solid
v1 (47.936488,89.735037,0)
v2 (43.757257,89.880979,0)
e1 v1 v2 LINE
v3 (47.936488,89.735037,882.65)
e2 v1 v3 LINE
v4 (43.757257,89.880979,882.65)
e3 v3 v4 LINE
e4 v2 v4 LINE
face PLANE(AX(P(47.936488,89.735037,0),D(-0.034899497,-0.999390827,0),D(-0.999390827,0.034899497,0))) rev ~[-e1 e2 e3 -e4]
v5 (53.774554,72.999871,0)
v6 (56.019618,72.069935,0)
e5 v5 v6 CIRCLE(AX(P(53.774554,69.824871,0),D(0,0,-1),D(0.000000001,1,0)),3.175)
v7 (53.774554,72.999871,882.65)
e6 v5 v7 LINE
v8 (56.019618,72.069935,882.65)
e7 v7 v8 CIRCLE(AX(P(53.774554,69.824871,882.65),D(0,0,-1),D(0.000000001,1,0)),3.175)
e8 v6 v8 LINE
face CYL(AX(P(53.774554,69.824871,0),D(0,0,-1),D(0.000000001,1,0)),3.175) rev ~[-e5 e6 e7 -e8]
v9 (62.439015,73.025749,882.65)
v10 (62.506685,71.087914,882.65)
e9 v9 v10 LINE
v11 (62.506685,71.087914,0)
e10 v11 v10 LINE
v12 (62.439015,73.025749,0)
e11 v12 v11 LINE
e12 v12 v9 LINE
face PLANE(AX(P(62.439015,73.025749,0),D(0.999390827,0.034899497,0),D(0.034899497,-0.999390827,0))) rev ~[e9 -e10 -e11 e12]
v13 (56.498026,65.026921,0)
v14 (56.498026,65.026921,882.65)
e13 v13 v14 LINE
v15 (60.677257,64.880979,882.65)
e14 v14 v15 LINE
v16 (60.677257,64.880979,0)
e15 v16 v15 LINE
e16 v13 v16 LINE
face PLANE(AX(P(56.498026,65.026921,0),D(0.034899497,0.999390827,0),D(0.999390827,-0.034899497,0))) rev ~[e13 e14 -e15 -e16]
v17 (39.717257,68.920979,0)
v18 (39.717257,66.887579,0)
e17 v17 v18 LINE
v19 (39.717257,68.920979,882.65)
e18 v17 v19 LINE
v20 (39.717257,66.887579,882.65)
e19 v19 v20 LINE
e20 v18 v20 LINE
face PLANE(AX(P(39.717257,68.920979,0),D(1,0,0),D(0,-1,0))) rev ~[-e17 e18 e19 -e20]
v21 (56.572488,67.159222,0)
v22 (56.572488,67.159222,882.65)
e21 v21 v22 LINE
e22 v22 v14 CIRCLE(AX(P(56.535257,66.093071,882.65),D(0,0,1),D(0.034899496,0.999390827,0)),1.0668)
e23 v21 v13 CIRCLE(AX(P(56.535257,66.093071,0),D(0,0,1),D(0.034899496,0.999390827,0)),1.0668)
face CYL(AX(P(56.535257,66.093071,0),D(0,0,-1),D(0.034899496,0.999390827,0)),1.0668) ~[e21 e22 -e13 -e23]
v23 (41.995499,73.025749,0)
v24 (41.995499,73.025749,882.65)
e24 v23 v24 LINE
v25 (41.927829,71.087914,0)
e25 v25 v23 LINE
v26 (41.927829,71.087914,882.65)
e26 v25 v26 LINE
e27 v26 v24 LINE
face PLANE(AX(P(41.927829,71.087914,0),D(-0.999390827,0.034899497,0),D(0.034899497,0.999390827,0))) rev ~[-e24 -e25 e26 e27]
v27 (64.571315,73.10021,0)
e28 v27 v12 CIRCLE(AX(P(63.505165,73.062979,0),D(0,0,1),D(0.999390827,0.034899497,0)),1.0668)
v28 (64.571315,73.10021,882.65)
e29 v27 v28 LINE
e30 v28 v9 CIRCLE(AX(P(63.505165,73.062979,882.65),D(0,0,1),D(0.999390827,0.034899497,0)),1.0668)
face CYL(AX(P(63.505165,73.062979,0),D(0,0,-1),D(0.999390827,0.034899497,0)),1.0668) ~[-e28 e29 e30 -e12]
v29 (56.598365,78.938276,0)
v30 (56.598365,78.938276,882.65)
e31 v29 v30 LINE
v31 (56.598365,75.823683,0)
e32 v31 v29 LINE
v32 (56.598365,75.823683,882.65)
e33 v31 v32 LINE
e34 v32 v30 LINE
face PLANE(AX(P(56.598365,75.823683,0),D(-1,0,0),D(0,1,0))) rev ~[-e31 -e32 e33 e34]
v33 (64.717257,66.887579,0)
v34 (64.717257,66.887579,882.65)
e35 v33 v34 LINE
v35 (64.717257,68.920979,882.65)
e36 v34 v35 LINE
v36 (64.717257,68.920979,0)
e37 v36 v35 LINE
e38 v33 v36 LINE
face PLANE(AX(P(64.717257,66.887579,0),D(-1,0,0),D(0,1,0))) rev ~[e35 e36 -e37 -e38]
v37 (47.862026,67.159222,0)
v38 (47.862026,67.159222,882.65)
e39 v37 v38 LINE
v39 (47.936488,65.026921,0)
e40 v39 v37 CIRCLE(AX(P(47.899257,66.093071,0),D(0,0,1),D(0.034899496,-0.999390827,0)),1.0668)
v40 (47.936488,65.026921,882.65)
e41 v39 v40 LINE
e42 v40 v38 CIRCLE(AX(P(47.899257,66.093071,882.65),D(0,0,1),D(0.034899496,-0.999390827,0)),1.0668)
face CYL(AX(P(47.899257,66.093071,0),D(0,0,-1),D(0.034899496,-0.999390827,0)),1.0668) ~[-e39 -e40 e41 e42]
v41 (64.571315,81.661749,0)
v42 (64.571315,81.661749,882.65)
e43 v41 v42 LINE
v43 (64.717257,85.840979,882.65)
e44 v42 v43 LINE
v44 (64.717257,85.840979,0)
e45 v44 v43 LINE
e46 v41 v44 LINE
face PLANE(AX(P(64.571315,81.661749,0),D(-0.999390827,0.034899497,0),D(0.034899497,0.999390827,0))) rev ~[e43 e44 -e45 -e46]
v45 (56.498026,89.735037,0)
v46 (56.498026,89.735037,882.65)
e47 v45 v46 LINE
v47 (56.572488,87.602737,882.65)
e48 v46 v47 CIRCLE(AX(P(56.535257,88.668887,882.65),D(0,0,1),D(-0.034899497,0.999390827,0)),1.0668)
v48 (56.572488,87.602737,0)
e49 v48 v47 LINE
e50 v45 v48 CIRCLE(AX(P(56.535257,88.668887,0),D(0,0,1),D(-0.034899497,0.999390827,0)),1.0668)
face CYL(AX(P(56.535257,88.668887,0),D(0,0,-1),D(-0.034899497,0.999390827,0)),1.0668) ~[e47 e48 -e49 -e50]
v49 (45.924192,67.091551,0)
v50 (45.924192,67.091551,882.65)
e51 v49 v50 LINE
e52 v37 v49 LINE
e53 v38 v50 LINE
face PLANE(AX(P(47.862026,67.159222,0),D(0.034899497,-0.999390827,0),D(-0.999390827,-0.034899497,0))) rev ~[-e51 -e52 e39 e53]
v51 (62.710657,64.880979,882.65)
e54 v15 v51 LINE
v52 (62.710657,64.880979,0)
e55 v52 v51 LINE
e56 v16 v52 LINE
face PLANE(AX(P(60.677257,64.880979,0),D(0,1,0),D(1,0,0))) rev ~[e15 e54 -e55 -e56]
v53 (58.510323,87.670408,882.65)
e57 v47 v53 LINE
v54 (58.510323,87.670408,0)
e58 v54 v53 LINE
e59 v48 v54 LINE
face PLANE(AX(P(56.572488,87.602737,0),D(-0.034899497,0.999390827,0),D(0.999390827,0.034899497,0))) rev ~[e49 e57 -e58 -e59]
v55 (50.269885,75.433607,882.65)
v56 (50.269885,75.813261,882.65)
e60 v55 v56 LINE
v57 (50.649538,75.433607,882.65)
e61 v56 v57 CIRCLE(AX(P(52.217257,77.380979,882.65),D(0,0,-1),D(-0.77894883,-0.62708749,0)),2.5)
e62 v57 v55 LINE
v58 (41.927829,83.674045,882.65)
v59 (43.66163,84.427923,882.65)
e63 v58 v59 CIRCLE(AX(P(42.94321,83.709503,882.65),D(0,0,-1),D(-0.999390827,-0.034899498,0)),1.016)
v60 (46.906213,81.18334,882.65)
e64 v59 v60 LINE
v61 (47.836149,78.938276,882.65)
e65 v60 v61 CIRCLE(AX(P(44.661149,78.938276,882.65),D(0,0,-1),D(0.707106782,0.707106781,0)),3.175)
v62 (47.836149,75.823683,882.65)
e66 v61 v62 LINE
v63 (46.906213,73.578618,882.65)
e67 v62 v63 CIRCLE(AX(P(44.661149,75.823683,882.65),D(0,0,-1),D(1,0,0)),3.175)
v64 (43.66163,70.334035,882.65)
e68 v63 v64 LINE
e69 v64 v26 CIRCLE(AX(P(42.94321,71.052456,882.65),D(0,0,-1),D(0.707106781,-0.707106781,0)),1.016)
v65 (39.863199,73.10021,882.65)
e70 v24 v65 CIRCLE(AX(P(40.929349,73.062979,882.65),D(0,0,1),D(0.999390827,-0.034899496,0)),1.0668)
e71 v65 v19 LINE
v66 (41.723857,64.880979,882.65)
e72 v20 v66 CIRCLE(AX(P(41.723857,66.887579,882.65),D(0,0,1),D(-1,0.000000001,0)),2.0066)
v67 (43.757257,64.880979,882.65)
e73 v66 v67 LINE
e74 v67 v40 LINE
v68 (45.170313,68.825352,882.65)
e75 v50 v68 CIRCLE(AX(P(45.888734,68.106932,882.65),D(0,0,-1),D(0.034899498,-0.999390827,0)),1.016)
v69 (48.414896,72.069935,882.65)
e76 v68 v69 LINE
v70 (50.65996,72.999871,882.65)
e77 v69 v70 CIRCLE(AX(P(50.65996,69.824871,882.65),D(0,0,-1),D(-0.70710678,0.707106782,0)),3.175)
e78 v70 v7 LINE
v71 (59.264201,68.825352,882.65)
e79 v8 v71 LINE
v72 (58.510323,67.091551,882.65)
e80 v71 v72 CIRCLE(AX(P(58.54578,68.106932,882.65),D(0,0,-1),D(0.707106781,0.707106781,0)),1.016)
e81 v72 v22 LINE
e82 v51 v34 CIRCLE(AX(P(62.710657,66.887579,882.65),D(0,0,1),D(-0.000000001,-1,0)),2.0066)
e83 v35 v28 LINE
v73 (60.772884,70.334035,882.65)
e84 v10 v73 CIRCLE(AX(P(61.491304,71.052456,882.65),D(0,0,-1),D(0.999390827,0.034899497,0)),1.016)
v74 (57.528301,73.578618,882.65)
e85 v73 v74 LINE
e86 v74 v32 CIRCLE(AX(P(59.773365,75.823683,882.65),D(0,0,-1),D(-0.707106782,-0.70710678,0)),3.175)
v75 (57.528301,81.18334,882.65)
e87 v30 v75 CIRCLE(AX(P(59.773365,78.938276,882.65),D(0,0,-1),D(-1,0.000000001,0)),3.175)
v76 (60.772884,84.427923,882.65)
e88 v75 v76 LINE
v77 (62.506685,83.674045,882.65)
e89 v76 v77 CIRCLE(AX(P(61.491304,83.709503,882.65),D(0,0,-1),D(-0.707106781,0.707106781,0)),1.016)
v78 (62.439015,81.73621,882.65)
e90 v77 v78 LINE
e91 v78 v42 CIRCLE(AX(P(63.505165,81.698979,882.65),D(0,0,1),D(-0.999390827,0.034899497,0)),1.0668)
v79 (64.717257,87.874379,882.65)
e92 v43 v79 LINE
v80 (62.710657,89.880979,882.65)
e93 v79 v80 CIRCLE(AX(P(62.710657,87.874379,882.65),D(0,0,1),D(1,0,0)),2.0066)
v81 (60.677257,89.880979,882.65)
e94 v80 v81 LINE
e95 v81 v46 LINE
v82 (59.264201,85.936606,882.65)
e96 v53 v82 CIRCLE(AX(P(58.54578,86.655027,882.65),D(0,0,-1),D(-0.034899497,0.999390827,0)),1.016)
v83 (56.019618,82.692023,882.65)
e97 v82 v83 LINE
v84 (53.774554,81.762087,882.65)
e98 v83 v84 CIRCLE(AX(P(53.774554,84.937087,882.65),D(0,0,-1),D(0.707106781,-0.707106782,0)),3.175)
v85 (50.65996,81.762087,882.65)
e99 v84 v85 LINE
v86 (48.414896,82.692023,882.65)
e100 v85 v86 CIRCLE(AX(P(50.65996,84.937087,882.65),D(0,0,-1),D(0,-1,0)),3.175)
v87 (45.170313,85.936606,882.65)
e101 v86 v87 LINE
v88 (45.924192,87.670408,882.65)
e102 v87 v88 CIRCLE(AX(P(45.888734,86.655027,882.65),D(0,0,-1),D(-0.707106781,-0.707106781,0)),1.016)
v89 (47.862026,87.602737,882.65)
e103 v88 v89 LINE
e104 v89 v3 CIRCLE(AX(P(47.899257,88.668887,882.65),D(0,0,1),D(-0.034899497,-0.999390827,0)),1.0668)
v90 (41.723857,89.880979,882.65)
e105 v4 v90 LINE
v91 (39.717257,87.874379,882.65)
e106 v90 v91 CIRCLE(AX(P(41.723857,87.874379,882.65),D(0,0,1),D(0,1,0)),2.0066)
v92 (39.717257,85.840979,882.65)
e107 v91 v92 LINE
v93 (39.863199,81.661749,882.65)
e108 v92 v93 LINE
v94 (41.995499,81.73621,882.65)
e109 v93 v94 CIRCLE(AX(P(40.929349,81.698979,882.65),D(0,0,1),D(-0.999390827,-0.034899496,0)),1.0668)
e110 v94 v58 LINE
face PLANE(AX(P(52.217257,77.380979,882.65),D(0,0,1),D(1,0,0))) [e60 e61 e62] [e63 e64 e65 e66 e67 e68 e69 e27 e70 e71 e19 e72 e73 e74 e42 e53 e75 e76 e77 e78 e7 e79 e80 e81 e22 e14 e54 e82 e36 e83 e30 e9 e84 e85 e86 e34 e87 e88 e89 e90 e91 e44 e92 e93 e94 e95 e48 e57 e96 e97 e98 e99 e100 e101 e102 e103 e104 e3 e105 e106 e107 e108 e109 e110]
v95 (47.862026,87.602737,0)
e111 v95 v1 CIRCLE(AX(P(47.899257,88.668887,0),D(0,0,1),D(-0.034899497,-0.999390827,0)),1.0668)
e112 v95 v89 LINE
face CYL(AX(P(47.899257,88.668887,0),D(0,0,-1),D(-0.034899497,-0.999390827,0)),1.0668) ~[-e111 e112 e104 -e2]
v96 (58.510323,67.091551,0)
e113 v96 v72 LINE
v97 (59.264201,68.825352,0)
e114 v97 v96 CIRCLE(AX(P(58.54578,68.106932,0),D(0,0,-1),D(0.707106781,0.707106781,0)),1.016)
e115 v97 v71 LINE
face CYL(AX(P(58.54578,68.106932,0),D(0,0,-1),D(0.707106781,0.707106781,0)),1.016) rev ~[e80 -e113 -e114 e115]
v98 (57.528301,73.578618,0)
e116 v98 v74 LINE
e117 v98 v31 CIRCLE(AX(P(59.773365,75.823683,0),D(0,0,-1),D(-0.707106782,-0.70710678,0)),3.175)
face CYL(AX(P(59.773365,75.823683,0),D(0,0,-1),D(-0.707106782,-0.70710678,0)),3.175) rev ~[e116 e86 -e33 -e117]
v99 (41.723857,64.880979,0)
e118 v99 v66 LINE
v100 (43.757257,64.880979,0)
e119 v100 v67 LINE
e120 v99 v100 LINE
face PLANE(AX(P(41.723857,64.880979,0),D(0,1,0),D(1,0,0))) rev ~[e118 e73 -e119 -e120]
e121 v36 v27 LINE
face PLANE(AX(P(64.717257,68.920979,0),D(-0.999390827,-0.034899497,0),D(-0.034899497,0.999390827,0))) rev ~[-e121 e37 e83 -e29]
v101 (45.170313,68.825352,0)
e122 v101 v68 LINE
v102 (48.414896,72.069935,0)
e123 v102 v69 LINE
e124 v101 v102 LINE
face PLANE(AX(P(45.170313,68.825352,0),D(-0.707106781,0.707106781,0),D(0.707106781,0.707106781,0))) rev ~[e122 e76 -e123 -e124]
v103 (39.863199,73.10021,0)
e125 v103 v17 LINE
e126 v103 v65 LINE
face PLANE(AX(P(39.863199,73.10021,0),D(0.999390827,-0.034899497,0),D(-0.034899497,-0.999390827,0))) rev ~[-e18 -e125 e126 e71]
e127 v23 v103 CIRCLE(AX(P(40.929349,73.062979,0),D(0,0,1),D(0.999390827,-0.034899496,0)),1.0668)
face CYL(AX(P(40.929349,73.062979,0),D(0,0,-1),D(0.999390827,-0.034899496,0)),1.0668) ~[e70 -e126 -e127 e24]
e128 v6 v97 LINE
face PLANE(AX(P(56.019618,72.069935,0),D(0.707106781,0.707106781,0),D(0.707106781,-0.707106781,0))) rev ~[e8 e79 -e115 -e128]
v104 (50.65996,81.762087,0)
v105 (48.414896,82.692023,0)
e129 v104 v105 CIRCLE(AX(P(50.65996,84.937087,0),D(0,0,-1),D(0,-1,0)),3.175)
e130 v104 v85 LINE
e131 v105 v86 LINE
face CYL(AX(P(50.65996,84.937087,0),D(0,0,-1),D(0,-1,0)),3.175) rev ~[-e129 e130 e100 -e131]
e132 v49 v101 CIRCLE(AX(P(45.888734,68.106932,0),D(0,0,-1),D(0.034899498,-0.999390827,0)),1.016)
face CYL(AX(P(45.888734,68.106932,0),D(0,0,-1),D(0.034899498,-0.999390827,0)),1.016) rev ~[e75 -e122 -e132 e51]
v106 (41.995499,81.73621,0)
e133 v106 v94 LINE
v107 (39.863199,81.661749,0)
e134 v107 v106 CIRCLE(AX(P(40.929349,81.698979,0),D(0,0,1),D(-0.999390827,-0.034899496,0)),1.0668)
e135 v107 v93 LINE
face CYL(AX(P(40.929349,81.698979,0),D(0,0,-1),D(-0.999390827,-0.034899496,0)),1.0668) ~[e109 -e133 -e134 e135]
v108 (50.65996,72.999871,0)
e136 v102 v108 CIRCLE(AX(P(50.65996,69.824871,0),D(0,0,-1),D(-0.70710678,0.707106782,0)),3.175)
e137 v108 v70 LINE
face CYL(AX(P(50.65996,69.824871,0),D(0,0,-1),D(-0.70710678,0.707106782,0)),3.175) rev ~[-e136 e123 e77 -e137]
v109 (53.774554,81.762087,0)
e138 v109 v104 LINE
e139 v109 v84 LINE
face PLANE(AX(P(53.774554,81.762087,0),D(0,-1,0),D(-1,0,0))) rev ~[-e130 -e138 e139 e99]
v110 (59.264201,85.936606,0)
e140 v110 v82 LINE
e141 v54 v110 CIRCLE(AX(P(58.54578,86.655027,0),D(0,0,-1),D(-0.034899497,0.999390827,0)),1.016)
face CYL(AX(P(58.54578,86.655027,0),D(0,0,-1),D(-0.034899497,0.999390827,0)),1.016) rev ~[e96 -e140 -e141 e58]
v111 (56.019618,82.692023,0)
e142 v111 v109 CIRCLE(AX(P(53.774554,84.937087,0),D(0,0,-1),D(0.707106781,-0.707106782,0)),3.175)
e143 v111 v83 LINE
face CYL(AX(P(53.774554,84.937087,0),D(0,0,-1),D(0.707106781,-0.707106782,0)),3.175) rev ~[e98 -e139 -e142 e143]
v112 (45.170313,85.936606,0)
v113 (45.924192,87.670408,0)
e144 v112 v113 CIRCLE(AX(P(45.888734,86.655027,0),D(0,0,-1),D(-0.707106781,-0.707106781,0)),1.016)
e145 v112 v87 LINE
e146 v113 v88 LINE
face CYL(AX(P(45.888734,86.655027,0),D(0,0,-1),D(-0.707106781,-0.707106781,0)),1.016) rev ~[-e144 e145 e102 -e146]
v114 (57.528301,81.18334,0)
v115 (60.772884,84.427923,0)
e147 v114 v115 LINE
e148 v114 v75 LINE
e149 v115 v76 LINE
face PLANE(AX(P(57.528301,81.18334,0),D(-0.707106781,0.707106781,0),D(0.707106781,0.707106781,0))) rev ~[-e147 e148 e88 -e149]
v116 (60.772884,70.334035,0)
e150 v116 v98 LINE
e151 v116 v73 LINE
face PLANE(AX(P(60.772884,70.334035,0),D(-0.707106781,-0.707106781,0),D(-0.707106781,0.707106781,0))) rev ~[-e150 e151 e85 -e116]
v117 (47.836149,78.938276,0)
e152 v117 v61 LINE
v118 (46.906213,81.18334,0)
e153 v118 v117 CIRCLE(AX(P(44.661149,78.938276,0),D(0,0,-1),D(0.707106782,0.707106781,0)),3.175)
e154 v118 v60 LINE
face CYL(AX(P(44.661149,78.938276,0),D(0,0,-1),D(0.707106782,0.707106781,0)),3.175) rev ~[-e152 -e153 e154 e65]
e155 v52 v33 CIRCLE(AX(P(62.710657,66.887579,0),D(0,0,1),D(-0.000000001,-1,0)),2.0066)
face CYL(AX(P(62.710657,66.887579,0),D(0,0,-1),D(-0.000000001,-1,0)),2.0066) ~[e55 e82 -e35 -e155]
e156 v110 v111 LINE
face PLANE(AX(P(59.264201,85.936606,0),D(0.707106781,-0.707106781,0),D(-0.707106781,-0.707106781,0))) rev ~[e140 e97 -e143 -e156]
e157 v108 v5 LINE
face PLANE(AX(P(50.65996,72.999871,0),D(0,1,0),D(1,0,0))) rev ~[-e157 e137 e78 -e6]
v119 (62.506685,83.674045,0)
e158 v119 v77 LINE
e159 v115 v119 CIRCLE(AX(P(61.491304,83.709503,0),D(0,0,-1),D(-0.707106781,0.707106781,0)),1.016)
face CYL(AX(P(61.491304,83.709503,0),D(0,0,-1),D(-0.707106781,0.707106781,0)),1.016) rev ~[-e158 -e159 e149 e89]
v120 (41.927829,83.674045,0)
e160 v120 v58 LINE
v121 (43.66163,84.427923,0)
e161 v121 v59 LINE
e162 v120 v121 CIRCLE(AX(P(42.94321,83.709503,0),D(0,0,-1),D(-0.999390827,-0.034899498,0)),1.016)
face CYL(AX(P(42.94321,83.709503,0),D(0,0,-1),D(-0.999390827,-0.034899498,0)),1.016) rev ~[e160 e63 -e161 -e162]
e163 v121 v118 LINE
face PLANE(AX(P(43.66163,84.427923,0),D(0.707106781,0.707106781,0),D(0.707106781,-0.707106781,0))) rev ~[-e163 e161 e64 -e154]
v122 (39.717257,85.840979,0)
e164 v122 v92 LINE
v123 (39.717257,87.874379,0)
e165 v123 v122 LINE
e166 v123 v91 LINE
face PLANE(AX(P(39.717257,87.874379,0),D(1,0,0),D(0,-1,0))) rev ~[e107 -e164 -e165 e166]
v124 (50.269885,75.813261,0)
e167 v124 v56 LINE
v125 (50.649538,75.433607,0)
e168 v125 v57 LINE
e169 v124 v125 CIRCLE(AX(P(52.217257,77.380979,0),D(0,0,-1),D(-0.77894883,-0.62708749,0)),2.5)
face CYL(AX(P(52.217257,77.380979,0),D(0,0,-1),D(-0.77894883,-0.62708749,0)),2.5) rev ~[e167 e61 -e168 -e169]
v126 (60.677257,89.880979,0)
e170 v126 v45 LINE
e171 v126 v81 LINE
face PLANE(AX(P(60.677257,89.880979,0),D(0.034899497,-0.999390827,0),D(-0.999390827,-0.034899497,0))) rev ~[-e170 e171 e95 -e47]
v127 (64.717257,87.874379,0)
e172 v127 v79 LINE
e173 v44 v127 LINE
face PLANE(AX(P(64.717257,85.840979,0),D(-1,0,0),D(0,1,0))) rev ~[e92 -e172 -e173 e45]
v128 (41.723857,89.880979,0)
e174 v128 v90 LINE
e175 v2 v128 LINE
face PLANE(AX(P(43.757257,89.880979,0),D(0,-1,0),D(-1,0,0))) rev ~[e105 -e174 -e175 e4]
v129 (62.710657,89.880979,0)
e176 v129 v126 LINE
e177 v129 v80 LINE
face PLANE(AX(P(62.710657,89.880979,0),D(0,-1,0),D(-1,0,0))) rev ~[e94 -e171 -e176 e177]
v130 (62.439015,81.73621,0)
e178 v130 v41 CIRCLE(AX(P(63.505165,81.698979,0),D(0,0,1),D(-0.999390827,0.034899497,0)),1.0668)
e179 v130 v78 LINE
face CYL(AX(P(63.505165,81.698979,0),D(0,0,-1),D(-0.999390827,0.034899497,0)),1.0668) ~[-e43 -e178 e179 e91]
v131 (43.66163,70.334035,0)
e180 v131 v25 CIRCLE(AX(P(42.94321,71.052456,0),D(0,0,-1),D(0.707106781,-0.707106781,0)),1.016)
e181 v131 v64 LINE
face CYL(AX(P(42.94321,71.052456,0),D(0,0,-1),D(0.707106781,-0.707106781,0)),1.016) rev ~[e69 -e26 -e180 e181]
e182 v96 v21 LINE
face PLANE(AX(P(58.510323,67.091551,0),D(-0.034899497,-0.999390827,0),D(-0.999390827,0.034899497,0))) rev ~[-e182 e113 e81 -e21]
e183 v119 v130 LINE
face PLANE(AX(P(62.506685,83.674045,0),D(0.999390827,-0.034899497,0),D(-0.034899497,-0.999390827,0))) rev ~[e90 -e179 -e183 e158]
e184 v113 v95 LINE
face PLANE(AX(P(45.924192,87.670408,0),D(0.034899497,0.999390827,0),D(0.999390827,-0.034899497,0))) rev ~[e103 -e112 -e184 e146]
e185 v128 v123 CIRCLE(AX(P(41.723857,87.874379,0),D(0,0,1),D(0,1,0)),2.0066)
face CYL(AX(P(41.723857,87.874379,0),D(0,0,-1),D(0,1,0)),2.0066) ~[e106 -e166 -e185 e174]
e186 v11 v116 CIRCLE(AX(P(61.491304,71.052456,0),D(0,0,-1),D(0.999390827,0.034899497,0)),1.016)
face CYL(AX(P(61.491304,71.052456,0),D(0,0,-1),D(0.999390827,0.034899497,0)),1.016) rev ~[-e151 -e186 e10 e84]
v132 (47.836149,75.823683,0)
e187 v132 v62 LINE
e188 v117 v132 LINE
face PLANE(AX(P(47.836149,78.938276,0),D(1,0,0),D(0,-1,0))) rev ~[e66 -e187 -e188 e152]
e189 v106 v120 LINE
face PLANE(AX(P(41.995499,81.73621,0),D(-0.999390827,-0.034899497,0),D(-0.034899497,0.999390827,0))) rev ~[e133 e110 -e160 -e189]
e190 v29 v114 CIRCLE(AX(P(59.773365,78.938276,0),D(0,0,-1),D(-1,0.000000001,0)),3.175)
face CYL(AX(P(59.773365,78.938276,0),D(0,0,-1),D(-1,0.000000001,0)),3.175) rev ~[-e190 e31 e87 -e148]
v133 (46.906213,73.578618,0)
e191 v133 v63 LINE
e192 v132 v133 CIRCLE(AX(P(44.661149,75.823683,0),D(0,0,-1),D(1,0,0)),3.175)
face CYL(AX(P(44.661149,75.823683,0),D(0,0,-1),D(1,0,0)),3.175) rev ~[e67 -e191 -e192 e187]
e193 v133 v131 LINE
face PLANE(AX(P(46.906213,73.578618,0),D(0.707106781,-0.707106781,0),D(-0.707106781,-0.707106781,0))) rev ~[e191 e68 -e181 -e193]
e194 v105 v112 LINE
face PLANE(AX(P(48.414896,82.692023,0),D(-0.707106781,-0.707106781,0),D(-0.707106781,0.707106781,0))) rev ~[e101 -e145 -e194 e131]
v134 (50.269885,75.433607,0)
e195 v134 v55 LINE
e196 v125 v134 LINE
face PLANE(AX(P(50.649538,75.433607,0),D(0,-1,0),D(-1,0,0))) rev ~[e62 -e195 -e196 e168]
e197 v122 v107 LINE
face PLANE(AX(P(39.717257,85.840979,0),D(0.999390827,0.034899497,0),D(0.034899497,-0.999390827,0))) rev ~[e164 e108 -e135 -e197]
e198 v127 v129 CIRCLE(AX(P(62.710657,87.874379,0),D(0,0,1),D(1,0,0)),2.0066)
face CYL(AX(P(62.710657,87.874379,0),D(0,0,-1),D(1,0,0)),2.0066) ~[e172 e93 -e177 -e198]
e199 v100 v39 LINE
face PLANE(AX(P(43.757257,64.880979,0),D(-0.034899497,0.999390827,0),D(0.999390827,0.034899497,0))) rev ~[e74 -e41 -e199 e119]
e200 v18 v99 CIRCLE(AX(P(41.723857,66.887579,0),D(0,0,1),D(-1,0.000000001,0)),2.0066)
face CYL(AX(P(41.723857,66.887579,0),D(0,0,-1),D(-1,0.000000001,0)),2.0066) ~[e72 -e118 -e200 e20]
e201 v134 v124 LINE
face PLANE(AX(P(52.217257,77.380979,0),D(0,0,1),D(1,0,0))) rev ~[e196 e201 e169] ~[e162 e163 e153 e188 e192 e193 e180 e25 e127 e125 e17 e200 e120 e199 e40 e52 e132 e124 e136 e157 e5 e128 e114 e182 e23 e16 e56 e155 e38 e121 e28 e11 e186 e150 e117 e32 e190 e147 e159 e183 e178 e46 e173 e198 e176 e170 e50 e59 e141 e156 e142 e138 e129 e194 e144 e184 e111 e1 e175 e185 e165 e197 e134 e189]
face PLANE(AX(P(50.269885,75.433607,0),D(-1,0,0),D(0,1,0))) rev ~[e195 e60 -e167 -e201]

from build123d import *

# Parameters (mm, degrees)
BOSS_EXTRUDE1_DEPTH = 882.65


with BuildPart() as part:
    # Model → Boss-Extrude1 (new body)
    with BuildSketch(Plane.XY):
        with BuildLine():
            Line((50.659960212, 72.999871414), (53.774553856, 72.999871414))
            ThreePointArc((53.774553856, 72.999871414), (54.989573754, 72.758188929), (56.019617887, 72.069935444))
            Line((56.019617887, 72.069935444), (59.264200891, 68.825352439))
            ThreePointArc((59.264200891, 68.825352439), (59.477513437, 67.701802895), (58.510322513, 67.091550869))
            Line((58.510322513, 67.091550869), (56.572487817, 67.159221548))
            ThreePointArc((56.572487817, 67.159221548), (55.4691069, 66.130302197), (56.498026251, 65.026921279))
            Line((56.498026251, 65.026921279), (60.677257034, 64.880979325))
            Line((60.677257034, 64.880979325), (62.710657034, 64.880979325))
            ThreePointArc((62.710657034, 64.880979325), (64.129537501, 65.468698857), (64.717257034, 66.887579325))
            Line((64.717257034, 66.887579325), (64.717257034, 68.920979325))
            Line((64.717257034, 68.920979325), (64.57131508, 73.100210108))
            ThreePointArc((64.57131508, 73.100210108), (63.467934162, 74.129129459), (62.439014811, 73.025748542))
            Line((62.439014811, 73.025748542), (62.50668549, 71.087913846))
            ThreePointArc((62.50668549, 71.087913846), (61.896433464, 70.120722922), (60.77288392, 70.334035468))
            Line((60.77288392, 70.334035468), (57.528300915, 73.578618472))
            ThreePointArc((57.528300915, 73.578618472), (56.84004743, 74.608662605), (56.598364945, 75.823682503))
            Line((56.598364945, 75.823682503), (56.598364945, 78.938276147))
            ThreePointArc((56.598364945, 78.938276147), (56.84004743, 80.153296044), (57.528300915, 81.183340177))
            Line((57.528300915, 81.183340177), (60.77288392, 84.427923182))
            ThreePointArc((60.77288392, 84.427923182), (61.896433464, 84.641235728), (62.50668549, 83.674044803))
            Line((62.50668549, 83.674044803), (62.439014811, 81.736210108))
            ThreePointArc((62.439014811, 81.736210108), (63.467934162, 80.63282919), (64.57131508, 81.661748542))
            Line((64.57131508, 81.661748542), (64.717257034, 85.840979325))
            Line((64.717257034, 85.840979325), (64.717257034, 87.874379325))
            ThreePointArc((64.717257034, 87.874379325), (64.129537501, 89.293259792), (62.710657034, 89.880979325))
            Line((62.710657034, 89.880979325), (60.677257034, 89.880979325))
            Line((60.677257034, 89.880979325), (56.498026251, 89.73503737))
            ThreePointArc((56.498026251, 89.73503737), (55.4691069, 88.631656452), (56.572487817, 87.602737101))
            Line((56.572487817, 87.602737101), (58.510322513, 87.67040778))
            ThreePointArc((58.510322513, 87.67040778), (59.477513437, 87.060155754), (59.264200891, 85.93660621))
            Line((59.264200891, 85.93660621), (56.019617887, 82.692023205))
            ThreePointArc((56.019617887, 82.692023205), (54.989573754, 82.00376972), (53.774553856, 81.762087236))
            Line((53.774553856, 81.762087236), (50.659960212, 81.762087236))
            ThreePointArc((50.659960212, 81.762087236), (49.444940315, 82.00376972), (48.414896182, 82.692023205))
            Line((48.414896182, 82.692023205), (45.170313177, 85.93660621))
            ThreePointArc((45.170313177, 85.93660621), (44.957000631, 87.060155754), (45.924191556, 87.67040778))
            Line((45.924191556, 87.67040778), (47.862026251, 87.602737101))
            ThreePointArc((47.862026251, 87.602737101), (48.965407169, 88.631656452), (47.936487817, 89.73503737))
            Line((47.936487817, 89.73503737), (43.757257034, 89.880979325))
            Line((43.757257034, 89.880979325), (41.723857034, 89.880979325))
            ThreePointArc((41.723857034, 89.880979325), (40.304976567, 89.293259792), (39.717257034, 87.874379325))
            Line((39.717257034, 87.874379325), (39.717257034, 85.840979325))
            Line((39.717257034, 85.840979325), (39.863198989, 81.661748542))
            ThreePointArc((39.863198989, 81.661748542), (40.966579907, 80.63282919), (41.995499258, 81.736210108))
            Line((41.995499258, 81.736210108), (41.927828579, 83.674044803))
            ThreePointArc((41.927828579, 83.674044803), (42.538080605, 84.641235728), (43.661630149, 84.427923182))
            Line((43.661630149, 84.427923182), (46.906213154, 81.183340177))
            ThreePointArc((46.906213154, 81.183340177), (47.594466639, 80.153296044), (47.836149123, 78.938276147))
            Line((47.836149123, 78.938276147), (47.836149123, 75.823682503))
            ThreePointArc((47.836149123, 75.823682503), (47.594466639, 74.608662605), (46.906213154, 73.578618472))
            Line((46.906213154, 73.578618472), (43.661630149, 70.334035468))
            ThreePointArc((43.661630149, 70.334035468), (42.538080605, 70.120722922), (41.927828579, 71.087913846))
            Line((41.927828579, 71.087913846), (41.995499258, 73.025748542))
            ThreePointArc((41.995499258, 73.025748542), (40.966579907, 74.129129459), (39.863198989, 73.100210108))
            Line((39.863198989, 73.100210108), (39.717257034, 68.920979325))
            Line((39.717257034, 68.920979325), (39.717257034, 66.887579325))
            ThreePointArc((39.717257034, 66.887579325), (40.304976567, 65.468698857), (41.723857034, 64.880979325))
            Line((41.723857034, 64.880979325), (43.757257034, 64.880979325))
            Line((43.757257034, 64.880979325), (47.936487817, 65.026921279))
            ThreePointArc((47.936487817, 65.026921279), (48.965407169, 66.130302197), (47.862026251, 67.159221548))
            Line((47.862026251, 67.159221548), (45.924191556, 67.091550869))
            ThreePointArc((45.924191556, 67.091550869), (44.957000631, 67.701802895), (45.170313177, 68.825352439))
            Line((45.170313177, 68.825352439), (48.414896182, 72.069935444))
            ThreePointArc((48.414896182, 72.069935444), (49.444940315, 72.758188929), (50.659960212, 72.999871414))
        make_face()
        with BuildLine():
            Line((50.64953831, 75.433607249), (50.269884959, 75.433607249))
            Line((50.269884959, 75.433607249), (50.269884959, 75.8132606))
            ThreePointArc((50.269884959, 75.8132606), (53.985023987, 79.148746278), (50.64953831, 75.433607249))
        make_face(mode=Mode.SUBTRACT)
    extrude(amount=BOSS_EXTRUDE1_DEPTH)


solid = part.part
